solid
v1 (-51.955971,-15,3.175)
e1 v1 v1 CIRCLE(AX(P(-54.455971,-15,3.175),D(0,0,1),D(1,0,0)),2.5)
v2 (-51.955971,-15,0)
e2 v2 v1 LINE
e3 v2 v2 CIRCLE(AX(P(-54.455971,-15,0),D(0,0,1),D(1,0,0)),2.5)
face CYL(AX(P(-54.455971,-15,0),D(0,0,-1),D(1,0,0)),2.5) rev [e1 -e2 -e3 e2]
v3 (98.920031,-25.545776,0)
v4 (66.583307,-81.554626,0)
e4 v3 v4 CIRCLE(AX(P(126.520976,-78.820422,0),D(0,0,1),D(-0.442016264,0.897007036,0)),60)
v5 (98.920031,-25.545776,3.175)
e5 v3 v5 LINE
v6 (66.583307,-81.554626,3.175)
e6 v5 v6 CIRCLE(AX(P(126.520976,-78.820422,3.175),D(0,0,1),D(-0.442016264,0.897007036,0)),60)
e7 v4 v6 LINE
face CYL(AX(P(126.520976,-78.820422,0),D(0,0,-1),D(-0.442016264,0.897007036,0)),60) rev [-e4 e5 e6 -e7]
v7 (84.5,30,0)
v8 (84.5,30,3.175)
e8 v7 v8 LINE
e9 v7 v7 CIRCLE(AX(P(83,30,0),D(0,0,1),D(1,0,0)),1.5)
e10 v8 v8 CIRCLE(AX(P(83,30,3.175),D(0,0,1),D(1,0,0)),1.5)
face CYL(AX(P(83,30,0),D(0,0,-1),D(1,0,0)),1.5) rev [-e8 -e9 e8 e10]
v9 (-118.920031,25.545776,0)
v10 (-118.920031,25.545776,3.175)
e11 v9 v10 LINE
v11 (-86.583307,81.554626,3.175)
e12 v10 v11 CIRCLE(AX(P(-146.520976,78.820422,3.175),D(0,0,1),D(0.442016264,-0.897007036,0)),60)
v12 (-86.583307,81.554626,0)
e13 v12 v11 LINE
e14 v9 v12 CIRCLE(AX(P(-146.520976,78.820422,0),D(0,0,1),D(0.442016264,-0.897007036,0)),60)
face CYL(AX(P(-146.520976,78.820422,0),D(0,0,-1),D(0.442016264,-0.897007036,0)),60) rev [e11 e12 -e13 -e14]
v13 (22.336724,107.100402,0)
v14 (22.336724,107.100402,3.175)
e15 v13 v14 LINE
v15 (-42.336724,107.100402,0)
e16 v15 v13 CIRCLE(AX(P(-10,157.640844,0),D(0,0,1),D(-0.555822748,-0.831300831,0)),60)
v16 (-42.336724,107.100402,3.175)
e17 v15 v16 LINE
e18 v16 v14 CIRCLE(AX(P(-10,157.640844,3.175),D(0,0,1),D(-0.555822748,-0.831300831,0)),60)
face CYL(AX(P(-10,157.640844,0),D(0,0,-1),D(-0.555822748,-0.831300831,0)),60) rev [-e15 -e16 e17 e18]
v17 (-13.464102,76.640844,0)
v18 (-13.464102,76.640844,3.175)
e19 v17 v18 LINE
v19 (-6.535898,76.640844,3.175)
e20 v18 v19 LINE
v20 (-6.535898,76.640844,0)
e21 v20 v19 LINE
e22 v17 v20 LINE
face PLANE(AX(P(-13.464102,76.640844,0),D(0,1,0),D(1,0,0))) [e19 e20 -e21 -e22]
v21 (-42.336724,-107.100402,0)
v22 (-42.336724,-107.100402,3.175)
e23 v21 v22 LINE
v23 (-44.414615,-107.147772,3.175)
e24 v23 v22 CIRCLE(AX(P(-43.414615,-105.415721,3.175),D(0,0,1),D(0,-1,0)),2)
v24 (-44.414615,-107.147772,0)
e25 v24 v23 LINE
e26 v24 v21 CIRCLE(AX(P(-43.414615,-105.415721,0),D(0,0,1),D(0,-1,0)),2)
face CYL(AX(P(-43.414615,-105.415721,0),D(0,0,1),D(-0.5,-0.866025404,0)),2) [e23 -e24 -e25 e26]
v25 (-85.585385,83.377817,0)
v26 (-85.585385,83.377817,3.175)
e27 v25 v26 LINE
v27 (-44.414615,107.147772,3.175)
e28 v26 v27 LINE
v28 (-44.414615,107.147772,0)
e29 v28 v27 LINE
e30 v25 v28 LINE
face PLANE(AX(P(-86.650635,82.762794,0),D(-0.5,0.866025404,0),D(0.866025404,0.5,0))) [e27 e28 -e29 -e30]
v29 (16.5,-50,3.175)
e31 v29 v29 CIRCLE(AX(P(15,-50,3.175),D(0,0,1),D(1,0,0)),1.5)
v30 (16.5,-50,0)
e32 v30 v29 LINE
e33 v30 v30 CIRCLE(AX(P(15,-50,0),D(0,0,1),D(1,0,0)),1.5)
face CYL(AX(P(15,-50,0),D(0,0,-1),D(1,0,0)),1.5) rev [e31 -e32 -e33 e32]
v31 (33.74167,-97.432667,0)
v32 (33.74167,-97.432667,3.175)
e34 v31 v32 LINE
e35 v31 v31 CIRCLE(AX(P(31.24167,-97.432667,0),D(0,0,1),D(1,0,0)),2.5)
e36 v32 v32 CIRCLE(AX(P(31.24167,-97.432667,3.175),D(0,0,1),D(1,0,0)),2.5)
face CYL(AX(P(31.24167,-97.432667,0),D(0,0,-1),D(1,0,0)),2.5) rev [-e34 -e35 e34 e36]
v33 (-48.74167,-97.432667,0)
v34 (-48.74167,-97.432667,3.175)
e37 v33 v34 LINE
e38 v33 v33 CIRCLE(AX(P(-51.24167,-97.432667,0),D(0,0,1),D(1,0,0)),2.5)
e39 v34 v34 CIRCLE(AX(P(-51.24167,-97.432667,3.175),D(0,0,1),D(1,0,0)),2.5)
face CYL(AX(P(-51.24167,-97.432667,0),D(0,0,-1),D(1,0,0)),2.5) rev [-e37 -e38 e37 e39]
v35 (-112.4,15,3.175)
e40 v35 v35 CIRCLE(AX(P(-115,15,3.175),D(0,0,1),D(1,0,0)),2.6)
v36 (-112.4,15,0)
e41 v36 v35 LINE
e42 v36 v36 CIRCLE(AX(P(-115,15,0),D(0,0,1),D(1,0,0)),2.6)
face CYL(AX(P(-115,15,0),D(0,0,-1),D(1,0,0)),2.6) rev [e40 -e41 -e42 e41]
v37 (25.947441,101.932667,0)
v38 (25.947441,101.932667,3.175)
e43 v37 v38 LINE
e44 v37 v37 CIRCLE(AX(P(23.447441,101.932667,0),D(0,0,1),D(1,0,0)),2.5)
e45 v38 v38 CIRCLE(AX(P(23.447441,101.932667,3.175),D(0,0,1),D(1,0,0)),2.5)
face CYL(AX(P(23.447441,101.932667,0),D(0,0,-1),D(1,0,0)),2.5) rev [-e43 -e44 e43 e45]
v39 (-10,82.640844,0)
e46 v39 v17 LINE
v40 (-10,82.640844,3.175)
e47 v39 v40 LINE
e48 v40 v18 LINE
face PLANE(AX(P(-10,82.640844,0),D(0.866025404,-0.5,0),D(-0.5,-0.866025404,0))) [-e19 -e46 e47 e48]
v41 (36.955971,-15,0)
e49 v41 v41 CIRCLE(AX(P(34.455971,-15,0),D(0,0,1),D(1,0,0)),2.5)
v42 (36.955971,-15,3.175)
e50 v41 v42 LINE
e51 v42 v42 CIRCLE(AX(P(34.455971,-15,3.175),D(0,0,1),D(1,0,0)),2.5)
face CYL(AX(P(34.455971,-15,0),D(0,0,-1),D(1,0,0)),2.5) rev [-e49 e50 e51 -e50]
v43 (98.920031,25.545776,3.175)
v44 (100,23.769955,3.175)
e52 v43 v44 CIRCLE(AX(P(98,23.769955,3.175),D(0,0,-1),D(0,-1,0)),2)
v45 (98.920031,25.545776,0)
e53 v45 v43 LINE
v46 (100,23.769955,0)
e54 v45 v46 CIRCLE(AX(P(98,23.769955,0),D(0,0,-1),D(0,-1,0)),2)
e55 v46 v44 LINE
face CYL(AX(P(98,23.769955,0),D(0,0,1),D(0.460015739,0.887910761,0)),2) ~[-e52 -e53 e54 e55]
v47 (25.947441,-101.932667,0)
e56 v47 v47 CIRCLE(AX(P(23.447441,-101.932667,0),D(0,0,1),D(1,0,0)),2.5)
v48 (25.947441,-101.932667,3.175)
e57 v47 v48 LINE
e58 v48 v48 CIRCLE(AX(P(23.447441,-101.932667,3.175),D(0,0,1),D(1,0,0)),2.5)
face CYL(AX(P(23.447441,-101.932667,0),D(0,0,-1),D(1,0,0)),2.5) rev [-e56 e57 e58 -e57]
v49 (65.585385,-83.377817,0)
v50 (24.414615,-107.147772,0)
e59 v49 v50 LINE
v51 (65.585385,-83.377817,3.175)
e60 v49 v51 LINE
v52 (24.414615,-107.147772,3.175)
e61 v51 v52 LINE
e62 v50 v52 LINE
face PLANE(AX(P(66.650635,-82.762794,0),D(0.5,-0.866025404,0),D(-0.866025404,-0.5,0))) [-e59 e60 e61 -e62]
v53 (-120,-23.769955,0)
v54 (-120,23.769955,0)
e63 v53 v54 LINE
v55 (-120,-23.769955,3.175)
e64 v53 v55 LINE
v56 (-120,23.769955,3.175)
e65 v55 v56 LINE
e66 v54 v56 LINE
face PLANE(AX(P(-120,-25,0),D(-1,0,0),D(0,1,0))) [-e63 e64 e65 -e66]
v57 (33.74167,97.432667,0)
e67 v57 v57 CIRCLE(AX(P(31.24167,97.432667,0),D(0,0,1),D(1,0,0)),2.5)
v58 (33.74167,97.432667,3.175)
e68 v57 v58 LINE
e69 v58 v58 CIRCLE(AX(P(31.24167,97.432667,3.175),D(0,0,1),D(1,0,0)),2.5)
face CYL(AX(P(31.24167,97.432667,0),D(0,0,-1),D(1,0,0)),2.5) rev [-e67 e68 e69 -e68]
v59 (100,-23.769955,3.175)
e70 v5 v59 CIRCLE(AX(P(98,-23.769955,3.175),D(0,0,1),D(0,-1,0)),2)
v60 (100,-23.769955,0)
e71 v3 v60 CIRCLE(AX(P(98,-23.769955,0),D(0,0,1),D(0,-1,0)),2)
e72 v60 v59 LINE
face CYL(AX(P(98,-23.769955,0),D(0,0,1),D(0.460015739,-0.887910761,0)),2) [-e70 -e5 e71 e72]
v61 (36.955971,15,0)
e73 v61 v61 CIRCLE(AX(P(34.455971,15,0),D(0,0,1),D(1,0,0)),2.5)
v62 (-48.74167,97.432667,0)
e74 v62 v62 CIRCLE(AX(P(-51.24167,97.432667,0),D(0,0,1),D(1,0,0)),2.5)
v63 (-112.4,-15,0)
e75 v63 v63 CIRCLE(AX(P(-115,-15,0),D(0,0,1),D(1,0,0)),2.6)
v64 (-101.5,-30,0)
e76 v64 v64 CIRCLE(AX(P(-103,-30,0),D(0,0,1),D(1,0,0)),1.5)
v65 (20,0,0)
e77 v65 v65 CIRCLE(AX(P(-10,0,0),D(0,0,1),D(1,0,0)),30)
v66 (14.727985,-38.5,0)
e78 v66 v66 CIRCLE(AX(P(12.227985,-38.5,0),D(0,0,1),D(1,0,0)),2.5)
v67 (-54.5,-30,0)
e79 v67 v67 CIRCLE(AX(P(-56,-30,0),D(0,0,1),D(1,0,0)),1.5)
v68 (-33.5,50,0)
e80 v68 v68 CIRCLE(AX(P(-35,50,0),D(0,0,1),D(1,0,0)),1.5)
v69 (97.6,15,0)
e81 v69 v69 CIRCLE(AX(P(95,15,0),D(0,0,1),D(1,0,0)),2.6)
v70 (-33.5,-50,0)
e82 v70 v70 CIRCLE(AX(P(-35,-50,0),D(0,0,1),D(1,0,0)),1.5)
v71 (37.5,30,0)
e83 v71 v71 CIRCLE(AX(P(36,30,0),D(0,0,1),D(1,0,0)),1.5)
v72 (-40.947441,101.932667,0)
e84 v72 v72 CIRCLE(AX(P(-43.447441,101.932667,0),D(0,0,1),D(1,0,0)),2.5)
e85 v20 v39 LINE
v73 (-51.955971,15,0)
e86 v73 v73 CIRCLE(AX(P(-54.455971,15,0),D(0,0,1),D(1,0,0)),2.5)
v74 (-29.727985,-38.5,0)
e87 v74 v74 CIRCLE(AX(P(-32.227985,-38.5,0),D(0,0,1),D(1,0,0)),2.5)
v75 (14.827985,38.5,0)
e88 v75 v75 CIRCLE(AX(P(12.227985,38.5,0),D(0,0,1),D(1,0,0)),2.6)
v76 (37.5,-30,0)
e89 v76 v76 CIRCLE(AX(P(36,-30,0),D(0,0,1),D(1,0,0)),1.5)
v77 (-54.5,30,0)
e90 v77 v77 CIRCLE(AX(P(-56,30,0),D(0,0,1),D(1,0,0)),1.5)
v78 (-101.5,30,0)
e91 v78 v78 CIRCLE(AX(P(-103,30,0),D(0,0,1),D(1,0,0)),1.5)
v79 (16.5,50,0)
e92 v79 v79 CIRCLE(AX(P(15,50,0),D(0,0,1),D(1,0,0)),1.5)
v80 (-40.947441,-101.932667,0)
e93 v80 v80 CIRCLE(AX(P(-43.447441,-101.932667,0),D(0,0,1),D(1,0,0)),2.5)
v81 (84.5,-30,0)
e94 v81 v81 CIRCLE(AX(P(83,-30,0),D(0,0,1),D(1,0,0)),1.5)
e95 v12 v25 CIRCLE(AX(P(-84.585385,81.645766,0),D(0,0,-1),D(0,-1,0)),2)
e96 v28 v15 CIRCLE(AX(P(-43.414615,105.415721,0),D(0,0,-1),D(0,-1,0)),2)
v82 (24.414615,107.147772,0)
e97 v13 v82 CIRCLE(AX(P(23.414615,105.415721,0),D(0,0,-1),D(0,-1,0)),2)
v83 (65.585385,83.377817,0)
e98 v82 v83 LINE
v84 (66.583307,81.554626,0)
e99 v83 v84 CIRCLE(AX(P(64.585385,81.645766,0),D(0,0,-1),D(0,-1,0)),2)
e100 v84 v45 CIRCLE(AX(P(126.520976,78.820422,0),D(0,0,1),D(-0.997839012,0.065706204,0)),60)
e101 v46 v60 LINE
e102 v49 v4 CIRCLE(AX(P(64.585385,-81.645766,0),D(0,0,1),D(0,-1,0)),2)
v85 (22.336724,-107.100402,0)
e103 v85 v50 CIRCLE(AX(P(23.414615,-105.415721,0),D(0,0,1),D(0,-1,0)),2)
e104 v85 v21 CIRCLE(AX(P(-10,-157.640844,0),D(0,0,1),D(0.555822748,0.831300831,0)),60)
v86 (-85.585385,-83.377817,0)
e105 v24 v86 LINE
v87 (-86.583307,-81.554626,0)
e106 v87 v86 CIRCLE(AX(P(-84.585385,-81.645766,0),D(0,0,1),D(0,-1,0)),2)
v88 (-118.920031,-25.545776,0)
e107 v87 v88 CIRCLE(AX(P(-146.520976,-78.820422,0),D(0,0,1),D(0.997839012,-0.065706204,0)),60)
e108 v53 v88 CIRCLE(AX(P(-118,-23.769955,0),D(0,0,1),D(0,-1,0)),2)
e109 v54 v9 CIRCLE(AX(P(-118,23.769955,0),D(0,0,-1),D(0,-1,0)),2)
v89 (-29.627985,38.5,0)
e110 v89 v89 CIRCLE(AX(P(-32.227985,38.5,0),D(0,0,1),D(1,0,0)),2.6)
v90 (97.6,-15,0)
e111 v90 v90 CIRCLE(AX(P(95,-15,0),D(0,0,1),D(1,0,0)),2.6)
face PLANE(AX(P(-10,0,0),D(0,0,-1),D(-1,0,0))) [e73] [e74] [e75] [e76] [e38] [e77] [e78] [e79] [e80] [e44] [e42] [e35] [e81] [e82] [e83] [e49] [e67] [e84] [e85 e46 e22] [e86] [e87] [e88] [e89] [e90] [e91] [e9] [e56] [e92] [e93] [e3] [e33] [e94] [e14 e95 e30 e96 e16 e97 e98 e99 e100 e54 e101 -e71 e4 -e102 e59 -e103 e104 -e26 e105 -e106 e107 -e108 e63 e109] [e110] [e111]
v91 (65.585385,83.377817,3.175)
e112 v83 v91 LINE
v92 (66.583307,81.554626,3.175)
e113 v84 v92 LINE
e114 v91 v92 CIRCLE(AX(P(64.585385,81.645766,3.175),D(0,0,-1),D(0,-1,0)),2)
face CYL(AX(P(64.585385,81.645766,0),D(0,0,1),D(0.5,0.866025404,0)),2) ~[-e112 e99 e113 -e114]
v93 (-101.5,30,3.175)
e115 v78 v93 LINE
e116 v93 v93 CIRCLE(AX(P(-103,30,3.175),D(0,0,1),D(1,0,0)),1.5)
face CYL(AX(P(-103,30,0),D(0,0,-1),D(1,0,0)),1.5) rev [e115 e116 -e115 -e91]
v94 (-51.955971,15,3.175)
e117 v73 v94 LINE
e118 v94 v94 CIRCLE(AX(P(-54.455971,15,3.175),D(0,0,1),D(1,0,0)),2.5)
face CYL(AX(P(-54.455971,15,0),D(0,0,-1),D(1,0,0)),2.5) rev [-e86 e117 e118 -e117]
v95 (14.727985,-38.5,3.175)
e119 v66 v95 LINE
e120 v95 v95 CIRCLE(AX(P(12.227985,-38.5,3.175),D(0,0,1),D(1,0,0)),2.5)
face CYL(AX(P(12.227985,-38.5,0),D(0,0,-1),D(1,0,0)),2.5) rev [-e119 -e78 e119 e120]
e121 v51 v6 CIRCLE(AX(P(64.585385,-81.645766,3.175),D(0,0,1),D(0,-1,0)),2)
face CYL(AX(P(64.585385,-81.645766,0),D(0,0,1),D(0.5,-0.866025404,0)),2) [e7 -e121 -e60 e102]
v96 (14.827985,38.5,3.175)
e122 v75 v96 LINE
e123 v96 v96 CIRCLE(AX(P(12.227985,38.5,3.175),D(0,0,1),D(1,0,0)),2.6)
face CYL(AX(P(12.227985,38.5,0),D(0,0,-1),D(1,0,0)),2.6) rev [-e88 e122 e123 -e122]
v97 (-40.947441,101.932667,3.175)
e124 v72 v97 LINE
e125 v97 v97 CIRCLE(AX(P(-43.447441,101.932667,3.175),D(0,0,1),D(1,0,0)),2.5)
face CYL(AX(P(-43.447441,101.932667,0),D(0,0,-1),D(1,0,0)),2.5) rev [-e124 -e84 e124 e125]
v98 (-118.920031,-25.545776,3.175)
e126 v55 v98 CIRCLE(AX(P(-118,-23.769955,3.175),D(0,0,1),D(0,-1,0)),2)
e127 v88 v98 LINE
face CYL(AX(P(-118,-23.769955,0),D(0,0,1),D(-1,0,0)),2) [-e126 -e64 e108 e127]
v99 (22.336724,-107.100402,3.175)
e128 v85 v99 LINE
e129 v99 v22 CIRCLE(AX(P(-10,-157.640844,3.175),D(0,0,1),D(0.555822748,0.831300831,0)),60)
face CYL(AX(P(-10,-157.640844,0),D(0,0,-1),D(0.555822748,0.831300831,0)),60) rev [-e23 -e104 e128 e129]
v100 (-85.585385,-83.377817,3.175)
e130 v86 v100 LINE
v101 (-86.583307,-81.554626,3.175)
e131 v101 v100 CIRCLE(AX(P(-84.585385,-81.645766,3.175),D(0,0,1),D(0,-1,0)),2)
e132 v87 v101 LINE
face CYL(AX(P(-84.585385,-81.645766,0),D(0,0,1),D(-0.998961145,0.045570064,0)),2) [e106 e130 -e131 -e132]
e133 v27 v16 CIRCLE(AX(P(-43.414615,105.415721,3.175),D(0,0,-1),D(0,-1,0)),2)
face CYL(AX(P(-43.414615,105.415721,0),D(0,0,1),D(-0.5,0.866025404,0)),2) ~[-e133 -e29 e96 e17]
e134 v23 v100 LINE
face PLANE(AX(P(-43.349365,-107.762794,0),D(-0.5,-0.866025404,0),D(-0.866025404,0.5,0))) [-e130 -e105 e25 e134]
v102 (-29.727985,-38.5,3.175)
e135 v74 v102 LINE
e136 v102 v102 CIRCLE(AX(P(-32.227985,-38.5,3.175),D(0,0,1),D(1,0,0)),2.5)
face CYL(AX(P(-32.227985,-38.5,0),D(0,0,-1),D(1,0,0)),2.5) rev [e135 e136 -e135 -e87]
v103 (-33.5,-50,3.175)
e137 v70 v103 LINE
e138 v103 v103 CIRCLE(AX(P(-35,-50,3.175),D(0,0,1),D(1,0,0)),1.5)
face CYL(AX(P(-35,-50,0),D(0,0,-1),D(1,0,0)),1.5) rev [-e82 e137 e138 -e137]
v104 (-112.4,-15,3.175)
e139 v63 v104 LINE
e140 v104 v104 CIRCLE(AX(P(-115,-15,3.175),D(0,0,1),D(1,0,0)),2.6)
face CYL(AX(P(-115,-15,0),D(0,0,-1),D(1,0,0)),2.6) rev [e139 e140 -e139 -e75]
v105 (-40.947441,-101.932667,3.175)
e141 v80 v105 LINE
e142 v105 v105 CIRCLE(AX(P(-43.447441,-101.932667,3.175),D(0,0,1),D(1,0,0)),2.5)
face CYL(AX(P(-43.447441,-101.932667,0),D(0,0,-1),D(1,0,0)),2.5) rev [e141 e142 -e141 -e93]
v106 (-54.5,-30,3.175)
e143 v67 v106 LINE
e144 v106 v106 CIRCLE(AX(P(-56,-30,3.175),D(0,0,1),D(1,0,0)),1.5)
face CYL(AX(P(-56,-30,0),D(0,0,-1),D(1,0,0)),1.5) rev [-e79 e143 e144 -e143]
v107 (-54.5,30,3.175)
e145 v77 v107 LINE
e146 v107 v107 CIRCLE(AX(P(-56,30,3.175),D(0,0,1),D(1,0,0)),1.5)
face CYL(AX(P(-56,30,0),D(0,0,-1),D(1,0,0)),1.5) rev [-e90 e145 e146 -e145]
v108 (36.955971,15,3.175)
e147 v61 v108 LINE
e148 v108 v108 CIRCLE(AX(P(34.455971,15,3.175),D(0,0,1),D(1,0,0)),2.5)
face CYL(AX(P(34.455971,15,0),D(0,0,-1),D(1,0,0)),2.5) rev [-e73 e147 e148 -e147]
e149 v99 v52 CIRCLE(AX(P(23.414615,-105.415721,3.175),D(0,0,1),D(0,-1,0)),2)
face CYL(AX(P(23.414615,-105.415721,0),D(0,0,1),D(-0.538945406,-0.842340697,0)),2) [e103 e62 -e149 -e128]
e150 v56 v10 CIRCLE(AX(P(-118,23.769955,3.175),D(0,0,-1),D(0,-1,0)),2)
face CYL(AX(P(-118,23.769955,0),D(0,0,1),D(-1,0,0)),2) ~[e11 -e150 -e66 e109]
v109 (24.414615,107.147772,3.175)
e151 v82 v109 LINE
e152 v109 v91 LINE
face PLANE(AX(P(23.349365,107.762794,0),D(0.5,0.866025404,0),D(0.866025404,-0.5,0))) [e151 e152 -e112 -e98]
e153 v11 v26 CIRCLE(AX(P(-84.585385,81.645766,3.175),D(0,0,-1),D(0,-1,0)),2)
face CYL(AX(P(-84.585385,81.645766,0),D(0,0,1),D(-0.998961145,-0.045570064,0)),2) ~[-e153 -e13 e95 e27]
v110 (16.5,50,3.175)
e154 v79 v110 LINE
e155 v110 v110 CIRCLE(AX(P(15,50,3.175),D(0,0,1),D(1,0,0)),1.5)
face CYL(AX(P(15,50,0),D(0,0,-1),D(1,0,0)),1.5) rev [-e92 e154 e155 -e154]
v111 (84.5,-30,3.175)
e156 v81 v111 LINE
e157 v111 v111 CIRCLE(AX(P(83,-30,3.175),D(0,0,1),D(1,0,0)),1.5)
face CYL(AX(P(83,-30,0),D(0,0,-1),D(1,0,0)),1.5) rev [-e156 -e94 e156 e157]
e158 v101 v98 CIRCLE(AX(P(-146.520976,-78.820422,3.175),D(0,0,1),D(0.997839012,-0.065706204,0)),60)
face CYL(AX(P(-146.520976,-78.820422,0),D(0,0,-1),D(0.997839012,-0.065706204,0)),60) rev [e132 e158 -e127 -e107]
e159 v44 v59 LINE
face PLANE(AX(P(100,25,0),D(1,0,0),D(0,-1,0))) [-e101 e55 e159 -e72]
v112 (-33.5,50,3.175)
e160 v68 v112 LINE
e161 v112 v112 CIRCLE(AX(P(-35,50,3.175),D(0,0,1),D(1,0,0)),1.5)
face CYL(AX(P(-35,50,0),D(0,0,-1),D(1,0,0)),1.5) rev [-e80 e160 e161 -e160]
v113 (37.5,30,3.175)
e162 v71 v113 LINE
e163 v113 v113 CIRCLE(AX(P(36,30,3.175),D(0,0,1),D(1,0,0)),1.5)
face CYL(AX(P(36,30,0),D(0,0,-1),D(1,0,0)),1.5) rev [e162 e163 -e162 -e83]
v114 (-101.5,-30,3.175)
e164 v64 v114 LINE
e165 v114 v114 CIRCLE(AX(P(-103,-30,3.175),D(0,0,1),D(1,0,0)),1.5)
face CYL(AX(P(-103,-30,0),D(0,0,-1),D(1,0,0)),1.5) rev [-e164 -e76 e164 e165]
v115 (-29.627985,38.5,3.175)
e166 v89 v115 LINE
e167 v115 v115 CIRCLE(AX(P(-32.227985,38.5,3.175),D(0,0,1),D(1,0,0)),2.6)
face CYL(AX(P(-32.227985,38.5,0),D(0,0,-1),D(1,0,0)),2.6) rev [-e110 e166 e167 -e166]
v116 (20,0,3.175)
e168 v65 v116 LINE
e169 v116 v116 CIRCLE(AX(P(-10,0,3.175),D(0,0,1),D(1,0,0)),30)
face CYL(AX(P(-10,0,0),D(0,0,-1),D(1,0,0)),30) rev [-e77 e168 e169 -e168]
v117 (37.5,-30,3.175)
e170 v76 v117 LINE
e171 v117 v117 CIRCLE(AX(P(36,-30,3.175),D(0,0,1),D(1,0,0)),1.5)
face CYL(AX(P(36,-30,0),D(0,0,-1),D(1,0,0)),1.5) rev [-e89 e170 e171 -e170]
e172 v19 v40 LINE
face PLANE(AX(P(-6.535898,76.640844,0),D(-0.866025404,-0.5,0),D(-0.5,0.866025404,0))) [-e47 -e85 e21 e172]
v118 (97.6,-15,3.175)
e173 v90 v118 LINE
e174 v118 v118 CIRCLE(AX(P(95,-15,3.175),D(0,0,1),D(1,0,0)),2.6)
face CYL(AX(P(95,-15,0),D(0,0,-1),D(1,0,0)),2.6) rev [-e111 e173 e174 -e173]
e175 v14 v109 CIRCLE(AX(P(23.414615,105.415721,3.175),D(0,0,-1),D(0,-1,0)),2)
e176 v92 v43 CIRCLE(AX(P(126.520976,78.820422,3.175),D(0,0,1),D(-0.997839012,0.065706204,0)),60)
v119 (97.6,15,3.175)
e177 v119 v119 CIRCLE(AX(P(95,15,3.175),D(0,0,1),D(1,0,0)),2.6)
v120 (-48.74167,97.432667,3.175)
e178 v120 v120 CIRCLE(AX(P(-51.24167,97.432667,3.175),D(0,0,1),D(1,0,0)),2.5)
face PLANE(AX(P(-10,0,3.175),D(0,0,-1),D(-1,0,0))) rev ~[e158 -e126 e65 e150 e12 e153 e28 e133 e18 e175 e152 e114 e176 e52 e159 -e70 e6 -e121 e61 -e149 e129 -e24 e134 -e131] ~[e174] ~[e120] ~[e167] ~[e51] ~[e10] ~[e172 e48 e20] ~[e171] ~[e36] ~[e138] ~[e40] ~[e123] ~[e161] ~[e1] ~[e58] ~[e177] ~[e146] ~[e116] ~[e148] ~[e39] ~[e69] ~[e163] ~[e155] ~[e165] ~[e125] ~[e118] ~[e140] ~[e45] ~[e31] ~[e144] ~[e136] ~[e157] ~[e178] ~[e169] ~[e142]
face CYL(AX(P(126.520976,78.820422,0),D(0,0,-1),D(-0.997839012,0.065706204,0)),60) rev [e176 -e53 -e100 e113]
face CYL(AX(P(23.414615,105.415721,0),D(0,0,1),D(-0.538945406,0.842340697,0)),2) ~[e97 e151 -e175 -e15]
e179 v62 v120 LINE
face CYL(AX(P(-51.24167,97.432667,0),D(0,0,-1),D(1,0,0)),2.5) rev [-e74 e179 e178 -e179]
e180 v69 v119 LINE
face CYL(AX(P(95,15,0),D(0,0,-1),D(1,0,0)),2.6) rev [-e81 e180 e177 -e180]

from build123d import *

# Parameters (mm, degrees)
SKETCH1_R           = 2.5
SKETCH1_R_2         = 2.6
SKETCH1_R_3         = 1.5
SKETCH1_R_4         = 30
BOSS_EXTRUDE1_DEPTH = 3.175
FILLET1_R           = 2


with BuildPart() as part:
    # Sketch1 → Boss-Extrude1 (new body)
    with BuildSketch(Plane.XY):
        with BuildLine():
            Line((-120, -25), (-120, 25))
            ThreePointArc((-120, 25), (-94.559451613, 48.820422151), (-86.650635095, 82.762794416))
            Line((-86.650635095, 82.762794416), (-43.349364905, 107.762794416))
            ThreePointArc((-43.349364905, 107.762794416), (-10, 97.640844302), (23.349364905, 107.762794416))
            Line((23.349364905, 107.762794416), (66.650635095, 82.762794416))
            ThreePointArc((66.650635095, 82.762794416), (74.559451613, 48.820422151), (100, 25))
            Line((100, 25), (100, -25))
            ThreePointArc((100, -25), (74.559451613, -48.820422151), (66.650635095, -82.762794416))
            Line((66.650635095, -82.762794416), (23.349364905, -107.762794416))
            ThreePointArc((23.349364905, -107.762794416), (-10, -97.640844302), (-43.349364905, -107.762794416))
            Line((-43.349364905, -107.762794416), (-86.650635095, -82.762794416))
            ThreePointArc((-86.650635095, -82.762794416), (-94.559451613, -48.820422151), (-120, -25))
        make_face()
        with Locations((12.227985364, -38.5)):
            Circle(SKETCH1_R, mode=Mode.SUBTRACT)
        with Locations((-54.455970728, 15)):
            Circle(SKETCH1_R, mode=Mode.SUBTRACT)
        with Locations((12.227985364, 38.5)):
            Circle(SKETCH1_R_2, mode=Mode.SUBTRACT)
        with Locations((-32.227985364, 38.5)):
            Circle(SKETCH1_R_2, mode=Mode.SUBTRACT)
        with Locations((-54.455970728, -15)):
            Circle(SKETCH1_R, mode=Mode.SUBTRACT)
        with Locations((-32.227985364, -38.5)):
            Circle(SKETCH1_R, mode=Mode.SUBTRACT)
        with Locations((95, 15)):
            Circle(SKETCH1_R_2, mode=Mode.SUBTRACT)
        with Locations((95, -15)):
            Circle(SKETCH1_R_2, mode=Mode.SUBTRACT)
        with Locations((-115, -15)):
            Circle(SKETCH1_R_2, mode=Mode.SUBTRACT)
        with Locations((-115, 15)):
            Circle(SKETCH1_R_2, mode=Mode.SUBTRACT)
        with Locations((31.241669751, -97.432667397)):
            Circle(SKETCH1_R, mode=Mode.SUBTRACT)
        with Locations((23.447441117, -101.932667397)):
            Circle(SKETCH1_R, mode=Mode.SUBTRACT)
        with Locations((-43.447441117, -101.932667397)):
            Circle(SKETCH1_R, mode=Mode.SUBTRACT)
        with Locations((-51.241669751, -97.432667397)):
            Circle(SKETCH1_R, mode=Mode.SUBTRACT)
        with Locations((-51.241669751, 97.432667397)):
            Circle(SKETCH1_R, mode=Mode.SUBTRACT)
        with Locations((-43.447441117, 101.932667397)):
            Circle(SKETCH1_R, mode=Mode.SUBTRACT)
        with Locations((23.447441117, 101.932667397)):
            Circle(SKETCH1_R, mode=Mode.SUBTRACT)
        with Locations((31.241669751, 97.432667397)):
            Circle(SKETCH1_R, mode=Mode.SUBTRACT)
        with Locations((34.455970728, -15)):
            Circle(SKETCH1_R, mode=Mode.SUBTRACT)
        with Locations((34.455970728, 15)):
            Circle(SKETCH1_R, mode=Mode.SUBTRACT)
        with Locations((-103, 30)):
            Circle(SKETCH1_R_3, mode=Mode.SUBTRACT)
        with Locations((-56, 30)):
            Circle(SKETCH1_R_3, mode=Mode.SUBTRACT)
        with Locations((-56, -30)):
            Circle(SKETCH1_R_3, mode=Mode.SUBTRACT)
        with Locations((-103, -30)):
            Circle(SKETCH1_R_3, mode=Mode.SUBTRACT)
        with Locations((36, 30)):
            Circle(SKETCH1_R_3, mode=Mode.SUBTRACT)
        with Locations((36, -30)):
            Circle(SKETCH1_R_3, mode=Mode.SUBTRACT)
        with Locations((83, 30)):
            Circle(SKETCH1_R_3, mode=Mode.SUBTRACT)
        with Locations((83, -30)):
            Circle(SKETCH1_R_3, mode=Mode.SUBTRACT)
        with Locations((-35, 50)):
            Circle(SKETCH1_R_3, mode=Mode.SUBTRACT)
        with Locations((15, 50)):
            Circle(SKETCH1_R_3, mode=Mode.SUBTRACT)
        with Locations((15, -50)):
            Circle(SKETCH1_R_3, mode=Mode.SUBTRACT)
        with Locations((-35, -50)):
            Circle(SKETCH1_R_3, mode=Mode.SUBTRACT)
        with Locations((-10, 0)):
            Circle(SKETCH1_R_4, mode=Mode.SUBTRACT)
        Polygon((-10, 82.640844302), (-13.464101615, 76.640844302), (-6.535898385, 76.640844302), align=None, mode=Mode.SUBTRACT)
    extrude(amount=BOSS_EXTRUDE1_DEPTH)

    # Fillet1
    fillet1_edges = [part.edges().sort_by_distance(p)[0] for p in [
        (-120, -25, 1.5875),
        (-120, 25, 1.5875),
        (-86.650635095, 82.762794416, 1.5875),
        (-43.349364905, 107.762794416, 1.5875),
        (23.349364905, 107.762794416, 1.5875),
        (66.650635095, 82.762794416, 1.5875),
        (100, 25, 1.5875),
        (100, -25, 1.5875),
        (66.650635095, -82.762794416, 1.5875),
        (23.349364905, -107.762794416, 1.5875),
        (-43.349364905, -107.762794416, 1.5875),
        (-86.650635095, -82.762794416, 1.5875),
    ]]
    fillet(fillet1_edges, radius=FILLET1_R)


solid = part.part
